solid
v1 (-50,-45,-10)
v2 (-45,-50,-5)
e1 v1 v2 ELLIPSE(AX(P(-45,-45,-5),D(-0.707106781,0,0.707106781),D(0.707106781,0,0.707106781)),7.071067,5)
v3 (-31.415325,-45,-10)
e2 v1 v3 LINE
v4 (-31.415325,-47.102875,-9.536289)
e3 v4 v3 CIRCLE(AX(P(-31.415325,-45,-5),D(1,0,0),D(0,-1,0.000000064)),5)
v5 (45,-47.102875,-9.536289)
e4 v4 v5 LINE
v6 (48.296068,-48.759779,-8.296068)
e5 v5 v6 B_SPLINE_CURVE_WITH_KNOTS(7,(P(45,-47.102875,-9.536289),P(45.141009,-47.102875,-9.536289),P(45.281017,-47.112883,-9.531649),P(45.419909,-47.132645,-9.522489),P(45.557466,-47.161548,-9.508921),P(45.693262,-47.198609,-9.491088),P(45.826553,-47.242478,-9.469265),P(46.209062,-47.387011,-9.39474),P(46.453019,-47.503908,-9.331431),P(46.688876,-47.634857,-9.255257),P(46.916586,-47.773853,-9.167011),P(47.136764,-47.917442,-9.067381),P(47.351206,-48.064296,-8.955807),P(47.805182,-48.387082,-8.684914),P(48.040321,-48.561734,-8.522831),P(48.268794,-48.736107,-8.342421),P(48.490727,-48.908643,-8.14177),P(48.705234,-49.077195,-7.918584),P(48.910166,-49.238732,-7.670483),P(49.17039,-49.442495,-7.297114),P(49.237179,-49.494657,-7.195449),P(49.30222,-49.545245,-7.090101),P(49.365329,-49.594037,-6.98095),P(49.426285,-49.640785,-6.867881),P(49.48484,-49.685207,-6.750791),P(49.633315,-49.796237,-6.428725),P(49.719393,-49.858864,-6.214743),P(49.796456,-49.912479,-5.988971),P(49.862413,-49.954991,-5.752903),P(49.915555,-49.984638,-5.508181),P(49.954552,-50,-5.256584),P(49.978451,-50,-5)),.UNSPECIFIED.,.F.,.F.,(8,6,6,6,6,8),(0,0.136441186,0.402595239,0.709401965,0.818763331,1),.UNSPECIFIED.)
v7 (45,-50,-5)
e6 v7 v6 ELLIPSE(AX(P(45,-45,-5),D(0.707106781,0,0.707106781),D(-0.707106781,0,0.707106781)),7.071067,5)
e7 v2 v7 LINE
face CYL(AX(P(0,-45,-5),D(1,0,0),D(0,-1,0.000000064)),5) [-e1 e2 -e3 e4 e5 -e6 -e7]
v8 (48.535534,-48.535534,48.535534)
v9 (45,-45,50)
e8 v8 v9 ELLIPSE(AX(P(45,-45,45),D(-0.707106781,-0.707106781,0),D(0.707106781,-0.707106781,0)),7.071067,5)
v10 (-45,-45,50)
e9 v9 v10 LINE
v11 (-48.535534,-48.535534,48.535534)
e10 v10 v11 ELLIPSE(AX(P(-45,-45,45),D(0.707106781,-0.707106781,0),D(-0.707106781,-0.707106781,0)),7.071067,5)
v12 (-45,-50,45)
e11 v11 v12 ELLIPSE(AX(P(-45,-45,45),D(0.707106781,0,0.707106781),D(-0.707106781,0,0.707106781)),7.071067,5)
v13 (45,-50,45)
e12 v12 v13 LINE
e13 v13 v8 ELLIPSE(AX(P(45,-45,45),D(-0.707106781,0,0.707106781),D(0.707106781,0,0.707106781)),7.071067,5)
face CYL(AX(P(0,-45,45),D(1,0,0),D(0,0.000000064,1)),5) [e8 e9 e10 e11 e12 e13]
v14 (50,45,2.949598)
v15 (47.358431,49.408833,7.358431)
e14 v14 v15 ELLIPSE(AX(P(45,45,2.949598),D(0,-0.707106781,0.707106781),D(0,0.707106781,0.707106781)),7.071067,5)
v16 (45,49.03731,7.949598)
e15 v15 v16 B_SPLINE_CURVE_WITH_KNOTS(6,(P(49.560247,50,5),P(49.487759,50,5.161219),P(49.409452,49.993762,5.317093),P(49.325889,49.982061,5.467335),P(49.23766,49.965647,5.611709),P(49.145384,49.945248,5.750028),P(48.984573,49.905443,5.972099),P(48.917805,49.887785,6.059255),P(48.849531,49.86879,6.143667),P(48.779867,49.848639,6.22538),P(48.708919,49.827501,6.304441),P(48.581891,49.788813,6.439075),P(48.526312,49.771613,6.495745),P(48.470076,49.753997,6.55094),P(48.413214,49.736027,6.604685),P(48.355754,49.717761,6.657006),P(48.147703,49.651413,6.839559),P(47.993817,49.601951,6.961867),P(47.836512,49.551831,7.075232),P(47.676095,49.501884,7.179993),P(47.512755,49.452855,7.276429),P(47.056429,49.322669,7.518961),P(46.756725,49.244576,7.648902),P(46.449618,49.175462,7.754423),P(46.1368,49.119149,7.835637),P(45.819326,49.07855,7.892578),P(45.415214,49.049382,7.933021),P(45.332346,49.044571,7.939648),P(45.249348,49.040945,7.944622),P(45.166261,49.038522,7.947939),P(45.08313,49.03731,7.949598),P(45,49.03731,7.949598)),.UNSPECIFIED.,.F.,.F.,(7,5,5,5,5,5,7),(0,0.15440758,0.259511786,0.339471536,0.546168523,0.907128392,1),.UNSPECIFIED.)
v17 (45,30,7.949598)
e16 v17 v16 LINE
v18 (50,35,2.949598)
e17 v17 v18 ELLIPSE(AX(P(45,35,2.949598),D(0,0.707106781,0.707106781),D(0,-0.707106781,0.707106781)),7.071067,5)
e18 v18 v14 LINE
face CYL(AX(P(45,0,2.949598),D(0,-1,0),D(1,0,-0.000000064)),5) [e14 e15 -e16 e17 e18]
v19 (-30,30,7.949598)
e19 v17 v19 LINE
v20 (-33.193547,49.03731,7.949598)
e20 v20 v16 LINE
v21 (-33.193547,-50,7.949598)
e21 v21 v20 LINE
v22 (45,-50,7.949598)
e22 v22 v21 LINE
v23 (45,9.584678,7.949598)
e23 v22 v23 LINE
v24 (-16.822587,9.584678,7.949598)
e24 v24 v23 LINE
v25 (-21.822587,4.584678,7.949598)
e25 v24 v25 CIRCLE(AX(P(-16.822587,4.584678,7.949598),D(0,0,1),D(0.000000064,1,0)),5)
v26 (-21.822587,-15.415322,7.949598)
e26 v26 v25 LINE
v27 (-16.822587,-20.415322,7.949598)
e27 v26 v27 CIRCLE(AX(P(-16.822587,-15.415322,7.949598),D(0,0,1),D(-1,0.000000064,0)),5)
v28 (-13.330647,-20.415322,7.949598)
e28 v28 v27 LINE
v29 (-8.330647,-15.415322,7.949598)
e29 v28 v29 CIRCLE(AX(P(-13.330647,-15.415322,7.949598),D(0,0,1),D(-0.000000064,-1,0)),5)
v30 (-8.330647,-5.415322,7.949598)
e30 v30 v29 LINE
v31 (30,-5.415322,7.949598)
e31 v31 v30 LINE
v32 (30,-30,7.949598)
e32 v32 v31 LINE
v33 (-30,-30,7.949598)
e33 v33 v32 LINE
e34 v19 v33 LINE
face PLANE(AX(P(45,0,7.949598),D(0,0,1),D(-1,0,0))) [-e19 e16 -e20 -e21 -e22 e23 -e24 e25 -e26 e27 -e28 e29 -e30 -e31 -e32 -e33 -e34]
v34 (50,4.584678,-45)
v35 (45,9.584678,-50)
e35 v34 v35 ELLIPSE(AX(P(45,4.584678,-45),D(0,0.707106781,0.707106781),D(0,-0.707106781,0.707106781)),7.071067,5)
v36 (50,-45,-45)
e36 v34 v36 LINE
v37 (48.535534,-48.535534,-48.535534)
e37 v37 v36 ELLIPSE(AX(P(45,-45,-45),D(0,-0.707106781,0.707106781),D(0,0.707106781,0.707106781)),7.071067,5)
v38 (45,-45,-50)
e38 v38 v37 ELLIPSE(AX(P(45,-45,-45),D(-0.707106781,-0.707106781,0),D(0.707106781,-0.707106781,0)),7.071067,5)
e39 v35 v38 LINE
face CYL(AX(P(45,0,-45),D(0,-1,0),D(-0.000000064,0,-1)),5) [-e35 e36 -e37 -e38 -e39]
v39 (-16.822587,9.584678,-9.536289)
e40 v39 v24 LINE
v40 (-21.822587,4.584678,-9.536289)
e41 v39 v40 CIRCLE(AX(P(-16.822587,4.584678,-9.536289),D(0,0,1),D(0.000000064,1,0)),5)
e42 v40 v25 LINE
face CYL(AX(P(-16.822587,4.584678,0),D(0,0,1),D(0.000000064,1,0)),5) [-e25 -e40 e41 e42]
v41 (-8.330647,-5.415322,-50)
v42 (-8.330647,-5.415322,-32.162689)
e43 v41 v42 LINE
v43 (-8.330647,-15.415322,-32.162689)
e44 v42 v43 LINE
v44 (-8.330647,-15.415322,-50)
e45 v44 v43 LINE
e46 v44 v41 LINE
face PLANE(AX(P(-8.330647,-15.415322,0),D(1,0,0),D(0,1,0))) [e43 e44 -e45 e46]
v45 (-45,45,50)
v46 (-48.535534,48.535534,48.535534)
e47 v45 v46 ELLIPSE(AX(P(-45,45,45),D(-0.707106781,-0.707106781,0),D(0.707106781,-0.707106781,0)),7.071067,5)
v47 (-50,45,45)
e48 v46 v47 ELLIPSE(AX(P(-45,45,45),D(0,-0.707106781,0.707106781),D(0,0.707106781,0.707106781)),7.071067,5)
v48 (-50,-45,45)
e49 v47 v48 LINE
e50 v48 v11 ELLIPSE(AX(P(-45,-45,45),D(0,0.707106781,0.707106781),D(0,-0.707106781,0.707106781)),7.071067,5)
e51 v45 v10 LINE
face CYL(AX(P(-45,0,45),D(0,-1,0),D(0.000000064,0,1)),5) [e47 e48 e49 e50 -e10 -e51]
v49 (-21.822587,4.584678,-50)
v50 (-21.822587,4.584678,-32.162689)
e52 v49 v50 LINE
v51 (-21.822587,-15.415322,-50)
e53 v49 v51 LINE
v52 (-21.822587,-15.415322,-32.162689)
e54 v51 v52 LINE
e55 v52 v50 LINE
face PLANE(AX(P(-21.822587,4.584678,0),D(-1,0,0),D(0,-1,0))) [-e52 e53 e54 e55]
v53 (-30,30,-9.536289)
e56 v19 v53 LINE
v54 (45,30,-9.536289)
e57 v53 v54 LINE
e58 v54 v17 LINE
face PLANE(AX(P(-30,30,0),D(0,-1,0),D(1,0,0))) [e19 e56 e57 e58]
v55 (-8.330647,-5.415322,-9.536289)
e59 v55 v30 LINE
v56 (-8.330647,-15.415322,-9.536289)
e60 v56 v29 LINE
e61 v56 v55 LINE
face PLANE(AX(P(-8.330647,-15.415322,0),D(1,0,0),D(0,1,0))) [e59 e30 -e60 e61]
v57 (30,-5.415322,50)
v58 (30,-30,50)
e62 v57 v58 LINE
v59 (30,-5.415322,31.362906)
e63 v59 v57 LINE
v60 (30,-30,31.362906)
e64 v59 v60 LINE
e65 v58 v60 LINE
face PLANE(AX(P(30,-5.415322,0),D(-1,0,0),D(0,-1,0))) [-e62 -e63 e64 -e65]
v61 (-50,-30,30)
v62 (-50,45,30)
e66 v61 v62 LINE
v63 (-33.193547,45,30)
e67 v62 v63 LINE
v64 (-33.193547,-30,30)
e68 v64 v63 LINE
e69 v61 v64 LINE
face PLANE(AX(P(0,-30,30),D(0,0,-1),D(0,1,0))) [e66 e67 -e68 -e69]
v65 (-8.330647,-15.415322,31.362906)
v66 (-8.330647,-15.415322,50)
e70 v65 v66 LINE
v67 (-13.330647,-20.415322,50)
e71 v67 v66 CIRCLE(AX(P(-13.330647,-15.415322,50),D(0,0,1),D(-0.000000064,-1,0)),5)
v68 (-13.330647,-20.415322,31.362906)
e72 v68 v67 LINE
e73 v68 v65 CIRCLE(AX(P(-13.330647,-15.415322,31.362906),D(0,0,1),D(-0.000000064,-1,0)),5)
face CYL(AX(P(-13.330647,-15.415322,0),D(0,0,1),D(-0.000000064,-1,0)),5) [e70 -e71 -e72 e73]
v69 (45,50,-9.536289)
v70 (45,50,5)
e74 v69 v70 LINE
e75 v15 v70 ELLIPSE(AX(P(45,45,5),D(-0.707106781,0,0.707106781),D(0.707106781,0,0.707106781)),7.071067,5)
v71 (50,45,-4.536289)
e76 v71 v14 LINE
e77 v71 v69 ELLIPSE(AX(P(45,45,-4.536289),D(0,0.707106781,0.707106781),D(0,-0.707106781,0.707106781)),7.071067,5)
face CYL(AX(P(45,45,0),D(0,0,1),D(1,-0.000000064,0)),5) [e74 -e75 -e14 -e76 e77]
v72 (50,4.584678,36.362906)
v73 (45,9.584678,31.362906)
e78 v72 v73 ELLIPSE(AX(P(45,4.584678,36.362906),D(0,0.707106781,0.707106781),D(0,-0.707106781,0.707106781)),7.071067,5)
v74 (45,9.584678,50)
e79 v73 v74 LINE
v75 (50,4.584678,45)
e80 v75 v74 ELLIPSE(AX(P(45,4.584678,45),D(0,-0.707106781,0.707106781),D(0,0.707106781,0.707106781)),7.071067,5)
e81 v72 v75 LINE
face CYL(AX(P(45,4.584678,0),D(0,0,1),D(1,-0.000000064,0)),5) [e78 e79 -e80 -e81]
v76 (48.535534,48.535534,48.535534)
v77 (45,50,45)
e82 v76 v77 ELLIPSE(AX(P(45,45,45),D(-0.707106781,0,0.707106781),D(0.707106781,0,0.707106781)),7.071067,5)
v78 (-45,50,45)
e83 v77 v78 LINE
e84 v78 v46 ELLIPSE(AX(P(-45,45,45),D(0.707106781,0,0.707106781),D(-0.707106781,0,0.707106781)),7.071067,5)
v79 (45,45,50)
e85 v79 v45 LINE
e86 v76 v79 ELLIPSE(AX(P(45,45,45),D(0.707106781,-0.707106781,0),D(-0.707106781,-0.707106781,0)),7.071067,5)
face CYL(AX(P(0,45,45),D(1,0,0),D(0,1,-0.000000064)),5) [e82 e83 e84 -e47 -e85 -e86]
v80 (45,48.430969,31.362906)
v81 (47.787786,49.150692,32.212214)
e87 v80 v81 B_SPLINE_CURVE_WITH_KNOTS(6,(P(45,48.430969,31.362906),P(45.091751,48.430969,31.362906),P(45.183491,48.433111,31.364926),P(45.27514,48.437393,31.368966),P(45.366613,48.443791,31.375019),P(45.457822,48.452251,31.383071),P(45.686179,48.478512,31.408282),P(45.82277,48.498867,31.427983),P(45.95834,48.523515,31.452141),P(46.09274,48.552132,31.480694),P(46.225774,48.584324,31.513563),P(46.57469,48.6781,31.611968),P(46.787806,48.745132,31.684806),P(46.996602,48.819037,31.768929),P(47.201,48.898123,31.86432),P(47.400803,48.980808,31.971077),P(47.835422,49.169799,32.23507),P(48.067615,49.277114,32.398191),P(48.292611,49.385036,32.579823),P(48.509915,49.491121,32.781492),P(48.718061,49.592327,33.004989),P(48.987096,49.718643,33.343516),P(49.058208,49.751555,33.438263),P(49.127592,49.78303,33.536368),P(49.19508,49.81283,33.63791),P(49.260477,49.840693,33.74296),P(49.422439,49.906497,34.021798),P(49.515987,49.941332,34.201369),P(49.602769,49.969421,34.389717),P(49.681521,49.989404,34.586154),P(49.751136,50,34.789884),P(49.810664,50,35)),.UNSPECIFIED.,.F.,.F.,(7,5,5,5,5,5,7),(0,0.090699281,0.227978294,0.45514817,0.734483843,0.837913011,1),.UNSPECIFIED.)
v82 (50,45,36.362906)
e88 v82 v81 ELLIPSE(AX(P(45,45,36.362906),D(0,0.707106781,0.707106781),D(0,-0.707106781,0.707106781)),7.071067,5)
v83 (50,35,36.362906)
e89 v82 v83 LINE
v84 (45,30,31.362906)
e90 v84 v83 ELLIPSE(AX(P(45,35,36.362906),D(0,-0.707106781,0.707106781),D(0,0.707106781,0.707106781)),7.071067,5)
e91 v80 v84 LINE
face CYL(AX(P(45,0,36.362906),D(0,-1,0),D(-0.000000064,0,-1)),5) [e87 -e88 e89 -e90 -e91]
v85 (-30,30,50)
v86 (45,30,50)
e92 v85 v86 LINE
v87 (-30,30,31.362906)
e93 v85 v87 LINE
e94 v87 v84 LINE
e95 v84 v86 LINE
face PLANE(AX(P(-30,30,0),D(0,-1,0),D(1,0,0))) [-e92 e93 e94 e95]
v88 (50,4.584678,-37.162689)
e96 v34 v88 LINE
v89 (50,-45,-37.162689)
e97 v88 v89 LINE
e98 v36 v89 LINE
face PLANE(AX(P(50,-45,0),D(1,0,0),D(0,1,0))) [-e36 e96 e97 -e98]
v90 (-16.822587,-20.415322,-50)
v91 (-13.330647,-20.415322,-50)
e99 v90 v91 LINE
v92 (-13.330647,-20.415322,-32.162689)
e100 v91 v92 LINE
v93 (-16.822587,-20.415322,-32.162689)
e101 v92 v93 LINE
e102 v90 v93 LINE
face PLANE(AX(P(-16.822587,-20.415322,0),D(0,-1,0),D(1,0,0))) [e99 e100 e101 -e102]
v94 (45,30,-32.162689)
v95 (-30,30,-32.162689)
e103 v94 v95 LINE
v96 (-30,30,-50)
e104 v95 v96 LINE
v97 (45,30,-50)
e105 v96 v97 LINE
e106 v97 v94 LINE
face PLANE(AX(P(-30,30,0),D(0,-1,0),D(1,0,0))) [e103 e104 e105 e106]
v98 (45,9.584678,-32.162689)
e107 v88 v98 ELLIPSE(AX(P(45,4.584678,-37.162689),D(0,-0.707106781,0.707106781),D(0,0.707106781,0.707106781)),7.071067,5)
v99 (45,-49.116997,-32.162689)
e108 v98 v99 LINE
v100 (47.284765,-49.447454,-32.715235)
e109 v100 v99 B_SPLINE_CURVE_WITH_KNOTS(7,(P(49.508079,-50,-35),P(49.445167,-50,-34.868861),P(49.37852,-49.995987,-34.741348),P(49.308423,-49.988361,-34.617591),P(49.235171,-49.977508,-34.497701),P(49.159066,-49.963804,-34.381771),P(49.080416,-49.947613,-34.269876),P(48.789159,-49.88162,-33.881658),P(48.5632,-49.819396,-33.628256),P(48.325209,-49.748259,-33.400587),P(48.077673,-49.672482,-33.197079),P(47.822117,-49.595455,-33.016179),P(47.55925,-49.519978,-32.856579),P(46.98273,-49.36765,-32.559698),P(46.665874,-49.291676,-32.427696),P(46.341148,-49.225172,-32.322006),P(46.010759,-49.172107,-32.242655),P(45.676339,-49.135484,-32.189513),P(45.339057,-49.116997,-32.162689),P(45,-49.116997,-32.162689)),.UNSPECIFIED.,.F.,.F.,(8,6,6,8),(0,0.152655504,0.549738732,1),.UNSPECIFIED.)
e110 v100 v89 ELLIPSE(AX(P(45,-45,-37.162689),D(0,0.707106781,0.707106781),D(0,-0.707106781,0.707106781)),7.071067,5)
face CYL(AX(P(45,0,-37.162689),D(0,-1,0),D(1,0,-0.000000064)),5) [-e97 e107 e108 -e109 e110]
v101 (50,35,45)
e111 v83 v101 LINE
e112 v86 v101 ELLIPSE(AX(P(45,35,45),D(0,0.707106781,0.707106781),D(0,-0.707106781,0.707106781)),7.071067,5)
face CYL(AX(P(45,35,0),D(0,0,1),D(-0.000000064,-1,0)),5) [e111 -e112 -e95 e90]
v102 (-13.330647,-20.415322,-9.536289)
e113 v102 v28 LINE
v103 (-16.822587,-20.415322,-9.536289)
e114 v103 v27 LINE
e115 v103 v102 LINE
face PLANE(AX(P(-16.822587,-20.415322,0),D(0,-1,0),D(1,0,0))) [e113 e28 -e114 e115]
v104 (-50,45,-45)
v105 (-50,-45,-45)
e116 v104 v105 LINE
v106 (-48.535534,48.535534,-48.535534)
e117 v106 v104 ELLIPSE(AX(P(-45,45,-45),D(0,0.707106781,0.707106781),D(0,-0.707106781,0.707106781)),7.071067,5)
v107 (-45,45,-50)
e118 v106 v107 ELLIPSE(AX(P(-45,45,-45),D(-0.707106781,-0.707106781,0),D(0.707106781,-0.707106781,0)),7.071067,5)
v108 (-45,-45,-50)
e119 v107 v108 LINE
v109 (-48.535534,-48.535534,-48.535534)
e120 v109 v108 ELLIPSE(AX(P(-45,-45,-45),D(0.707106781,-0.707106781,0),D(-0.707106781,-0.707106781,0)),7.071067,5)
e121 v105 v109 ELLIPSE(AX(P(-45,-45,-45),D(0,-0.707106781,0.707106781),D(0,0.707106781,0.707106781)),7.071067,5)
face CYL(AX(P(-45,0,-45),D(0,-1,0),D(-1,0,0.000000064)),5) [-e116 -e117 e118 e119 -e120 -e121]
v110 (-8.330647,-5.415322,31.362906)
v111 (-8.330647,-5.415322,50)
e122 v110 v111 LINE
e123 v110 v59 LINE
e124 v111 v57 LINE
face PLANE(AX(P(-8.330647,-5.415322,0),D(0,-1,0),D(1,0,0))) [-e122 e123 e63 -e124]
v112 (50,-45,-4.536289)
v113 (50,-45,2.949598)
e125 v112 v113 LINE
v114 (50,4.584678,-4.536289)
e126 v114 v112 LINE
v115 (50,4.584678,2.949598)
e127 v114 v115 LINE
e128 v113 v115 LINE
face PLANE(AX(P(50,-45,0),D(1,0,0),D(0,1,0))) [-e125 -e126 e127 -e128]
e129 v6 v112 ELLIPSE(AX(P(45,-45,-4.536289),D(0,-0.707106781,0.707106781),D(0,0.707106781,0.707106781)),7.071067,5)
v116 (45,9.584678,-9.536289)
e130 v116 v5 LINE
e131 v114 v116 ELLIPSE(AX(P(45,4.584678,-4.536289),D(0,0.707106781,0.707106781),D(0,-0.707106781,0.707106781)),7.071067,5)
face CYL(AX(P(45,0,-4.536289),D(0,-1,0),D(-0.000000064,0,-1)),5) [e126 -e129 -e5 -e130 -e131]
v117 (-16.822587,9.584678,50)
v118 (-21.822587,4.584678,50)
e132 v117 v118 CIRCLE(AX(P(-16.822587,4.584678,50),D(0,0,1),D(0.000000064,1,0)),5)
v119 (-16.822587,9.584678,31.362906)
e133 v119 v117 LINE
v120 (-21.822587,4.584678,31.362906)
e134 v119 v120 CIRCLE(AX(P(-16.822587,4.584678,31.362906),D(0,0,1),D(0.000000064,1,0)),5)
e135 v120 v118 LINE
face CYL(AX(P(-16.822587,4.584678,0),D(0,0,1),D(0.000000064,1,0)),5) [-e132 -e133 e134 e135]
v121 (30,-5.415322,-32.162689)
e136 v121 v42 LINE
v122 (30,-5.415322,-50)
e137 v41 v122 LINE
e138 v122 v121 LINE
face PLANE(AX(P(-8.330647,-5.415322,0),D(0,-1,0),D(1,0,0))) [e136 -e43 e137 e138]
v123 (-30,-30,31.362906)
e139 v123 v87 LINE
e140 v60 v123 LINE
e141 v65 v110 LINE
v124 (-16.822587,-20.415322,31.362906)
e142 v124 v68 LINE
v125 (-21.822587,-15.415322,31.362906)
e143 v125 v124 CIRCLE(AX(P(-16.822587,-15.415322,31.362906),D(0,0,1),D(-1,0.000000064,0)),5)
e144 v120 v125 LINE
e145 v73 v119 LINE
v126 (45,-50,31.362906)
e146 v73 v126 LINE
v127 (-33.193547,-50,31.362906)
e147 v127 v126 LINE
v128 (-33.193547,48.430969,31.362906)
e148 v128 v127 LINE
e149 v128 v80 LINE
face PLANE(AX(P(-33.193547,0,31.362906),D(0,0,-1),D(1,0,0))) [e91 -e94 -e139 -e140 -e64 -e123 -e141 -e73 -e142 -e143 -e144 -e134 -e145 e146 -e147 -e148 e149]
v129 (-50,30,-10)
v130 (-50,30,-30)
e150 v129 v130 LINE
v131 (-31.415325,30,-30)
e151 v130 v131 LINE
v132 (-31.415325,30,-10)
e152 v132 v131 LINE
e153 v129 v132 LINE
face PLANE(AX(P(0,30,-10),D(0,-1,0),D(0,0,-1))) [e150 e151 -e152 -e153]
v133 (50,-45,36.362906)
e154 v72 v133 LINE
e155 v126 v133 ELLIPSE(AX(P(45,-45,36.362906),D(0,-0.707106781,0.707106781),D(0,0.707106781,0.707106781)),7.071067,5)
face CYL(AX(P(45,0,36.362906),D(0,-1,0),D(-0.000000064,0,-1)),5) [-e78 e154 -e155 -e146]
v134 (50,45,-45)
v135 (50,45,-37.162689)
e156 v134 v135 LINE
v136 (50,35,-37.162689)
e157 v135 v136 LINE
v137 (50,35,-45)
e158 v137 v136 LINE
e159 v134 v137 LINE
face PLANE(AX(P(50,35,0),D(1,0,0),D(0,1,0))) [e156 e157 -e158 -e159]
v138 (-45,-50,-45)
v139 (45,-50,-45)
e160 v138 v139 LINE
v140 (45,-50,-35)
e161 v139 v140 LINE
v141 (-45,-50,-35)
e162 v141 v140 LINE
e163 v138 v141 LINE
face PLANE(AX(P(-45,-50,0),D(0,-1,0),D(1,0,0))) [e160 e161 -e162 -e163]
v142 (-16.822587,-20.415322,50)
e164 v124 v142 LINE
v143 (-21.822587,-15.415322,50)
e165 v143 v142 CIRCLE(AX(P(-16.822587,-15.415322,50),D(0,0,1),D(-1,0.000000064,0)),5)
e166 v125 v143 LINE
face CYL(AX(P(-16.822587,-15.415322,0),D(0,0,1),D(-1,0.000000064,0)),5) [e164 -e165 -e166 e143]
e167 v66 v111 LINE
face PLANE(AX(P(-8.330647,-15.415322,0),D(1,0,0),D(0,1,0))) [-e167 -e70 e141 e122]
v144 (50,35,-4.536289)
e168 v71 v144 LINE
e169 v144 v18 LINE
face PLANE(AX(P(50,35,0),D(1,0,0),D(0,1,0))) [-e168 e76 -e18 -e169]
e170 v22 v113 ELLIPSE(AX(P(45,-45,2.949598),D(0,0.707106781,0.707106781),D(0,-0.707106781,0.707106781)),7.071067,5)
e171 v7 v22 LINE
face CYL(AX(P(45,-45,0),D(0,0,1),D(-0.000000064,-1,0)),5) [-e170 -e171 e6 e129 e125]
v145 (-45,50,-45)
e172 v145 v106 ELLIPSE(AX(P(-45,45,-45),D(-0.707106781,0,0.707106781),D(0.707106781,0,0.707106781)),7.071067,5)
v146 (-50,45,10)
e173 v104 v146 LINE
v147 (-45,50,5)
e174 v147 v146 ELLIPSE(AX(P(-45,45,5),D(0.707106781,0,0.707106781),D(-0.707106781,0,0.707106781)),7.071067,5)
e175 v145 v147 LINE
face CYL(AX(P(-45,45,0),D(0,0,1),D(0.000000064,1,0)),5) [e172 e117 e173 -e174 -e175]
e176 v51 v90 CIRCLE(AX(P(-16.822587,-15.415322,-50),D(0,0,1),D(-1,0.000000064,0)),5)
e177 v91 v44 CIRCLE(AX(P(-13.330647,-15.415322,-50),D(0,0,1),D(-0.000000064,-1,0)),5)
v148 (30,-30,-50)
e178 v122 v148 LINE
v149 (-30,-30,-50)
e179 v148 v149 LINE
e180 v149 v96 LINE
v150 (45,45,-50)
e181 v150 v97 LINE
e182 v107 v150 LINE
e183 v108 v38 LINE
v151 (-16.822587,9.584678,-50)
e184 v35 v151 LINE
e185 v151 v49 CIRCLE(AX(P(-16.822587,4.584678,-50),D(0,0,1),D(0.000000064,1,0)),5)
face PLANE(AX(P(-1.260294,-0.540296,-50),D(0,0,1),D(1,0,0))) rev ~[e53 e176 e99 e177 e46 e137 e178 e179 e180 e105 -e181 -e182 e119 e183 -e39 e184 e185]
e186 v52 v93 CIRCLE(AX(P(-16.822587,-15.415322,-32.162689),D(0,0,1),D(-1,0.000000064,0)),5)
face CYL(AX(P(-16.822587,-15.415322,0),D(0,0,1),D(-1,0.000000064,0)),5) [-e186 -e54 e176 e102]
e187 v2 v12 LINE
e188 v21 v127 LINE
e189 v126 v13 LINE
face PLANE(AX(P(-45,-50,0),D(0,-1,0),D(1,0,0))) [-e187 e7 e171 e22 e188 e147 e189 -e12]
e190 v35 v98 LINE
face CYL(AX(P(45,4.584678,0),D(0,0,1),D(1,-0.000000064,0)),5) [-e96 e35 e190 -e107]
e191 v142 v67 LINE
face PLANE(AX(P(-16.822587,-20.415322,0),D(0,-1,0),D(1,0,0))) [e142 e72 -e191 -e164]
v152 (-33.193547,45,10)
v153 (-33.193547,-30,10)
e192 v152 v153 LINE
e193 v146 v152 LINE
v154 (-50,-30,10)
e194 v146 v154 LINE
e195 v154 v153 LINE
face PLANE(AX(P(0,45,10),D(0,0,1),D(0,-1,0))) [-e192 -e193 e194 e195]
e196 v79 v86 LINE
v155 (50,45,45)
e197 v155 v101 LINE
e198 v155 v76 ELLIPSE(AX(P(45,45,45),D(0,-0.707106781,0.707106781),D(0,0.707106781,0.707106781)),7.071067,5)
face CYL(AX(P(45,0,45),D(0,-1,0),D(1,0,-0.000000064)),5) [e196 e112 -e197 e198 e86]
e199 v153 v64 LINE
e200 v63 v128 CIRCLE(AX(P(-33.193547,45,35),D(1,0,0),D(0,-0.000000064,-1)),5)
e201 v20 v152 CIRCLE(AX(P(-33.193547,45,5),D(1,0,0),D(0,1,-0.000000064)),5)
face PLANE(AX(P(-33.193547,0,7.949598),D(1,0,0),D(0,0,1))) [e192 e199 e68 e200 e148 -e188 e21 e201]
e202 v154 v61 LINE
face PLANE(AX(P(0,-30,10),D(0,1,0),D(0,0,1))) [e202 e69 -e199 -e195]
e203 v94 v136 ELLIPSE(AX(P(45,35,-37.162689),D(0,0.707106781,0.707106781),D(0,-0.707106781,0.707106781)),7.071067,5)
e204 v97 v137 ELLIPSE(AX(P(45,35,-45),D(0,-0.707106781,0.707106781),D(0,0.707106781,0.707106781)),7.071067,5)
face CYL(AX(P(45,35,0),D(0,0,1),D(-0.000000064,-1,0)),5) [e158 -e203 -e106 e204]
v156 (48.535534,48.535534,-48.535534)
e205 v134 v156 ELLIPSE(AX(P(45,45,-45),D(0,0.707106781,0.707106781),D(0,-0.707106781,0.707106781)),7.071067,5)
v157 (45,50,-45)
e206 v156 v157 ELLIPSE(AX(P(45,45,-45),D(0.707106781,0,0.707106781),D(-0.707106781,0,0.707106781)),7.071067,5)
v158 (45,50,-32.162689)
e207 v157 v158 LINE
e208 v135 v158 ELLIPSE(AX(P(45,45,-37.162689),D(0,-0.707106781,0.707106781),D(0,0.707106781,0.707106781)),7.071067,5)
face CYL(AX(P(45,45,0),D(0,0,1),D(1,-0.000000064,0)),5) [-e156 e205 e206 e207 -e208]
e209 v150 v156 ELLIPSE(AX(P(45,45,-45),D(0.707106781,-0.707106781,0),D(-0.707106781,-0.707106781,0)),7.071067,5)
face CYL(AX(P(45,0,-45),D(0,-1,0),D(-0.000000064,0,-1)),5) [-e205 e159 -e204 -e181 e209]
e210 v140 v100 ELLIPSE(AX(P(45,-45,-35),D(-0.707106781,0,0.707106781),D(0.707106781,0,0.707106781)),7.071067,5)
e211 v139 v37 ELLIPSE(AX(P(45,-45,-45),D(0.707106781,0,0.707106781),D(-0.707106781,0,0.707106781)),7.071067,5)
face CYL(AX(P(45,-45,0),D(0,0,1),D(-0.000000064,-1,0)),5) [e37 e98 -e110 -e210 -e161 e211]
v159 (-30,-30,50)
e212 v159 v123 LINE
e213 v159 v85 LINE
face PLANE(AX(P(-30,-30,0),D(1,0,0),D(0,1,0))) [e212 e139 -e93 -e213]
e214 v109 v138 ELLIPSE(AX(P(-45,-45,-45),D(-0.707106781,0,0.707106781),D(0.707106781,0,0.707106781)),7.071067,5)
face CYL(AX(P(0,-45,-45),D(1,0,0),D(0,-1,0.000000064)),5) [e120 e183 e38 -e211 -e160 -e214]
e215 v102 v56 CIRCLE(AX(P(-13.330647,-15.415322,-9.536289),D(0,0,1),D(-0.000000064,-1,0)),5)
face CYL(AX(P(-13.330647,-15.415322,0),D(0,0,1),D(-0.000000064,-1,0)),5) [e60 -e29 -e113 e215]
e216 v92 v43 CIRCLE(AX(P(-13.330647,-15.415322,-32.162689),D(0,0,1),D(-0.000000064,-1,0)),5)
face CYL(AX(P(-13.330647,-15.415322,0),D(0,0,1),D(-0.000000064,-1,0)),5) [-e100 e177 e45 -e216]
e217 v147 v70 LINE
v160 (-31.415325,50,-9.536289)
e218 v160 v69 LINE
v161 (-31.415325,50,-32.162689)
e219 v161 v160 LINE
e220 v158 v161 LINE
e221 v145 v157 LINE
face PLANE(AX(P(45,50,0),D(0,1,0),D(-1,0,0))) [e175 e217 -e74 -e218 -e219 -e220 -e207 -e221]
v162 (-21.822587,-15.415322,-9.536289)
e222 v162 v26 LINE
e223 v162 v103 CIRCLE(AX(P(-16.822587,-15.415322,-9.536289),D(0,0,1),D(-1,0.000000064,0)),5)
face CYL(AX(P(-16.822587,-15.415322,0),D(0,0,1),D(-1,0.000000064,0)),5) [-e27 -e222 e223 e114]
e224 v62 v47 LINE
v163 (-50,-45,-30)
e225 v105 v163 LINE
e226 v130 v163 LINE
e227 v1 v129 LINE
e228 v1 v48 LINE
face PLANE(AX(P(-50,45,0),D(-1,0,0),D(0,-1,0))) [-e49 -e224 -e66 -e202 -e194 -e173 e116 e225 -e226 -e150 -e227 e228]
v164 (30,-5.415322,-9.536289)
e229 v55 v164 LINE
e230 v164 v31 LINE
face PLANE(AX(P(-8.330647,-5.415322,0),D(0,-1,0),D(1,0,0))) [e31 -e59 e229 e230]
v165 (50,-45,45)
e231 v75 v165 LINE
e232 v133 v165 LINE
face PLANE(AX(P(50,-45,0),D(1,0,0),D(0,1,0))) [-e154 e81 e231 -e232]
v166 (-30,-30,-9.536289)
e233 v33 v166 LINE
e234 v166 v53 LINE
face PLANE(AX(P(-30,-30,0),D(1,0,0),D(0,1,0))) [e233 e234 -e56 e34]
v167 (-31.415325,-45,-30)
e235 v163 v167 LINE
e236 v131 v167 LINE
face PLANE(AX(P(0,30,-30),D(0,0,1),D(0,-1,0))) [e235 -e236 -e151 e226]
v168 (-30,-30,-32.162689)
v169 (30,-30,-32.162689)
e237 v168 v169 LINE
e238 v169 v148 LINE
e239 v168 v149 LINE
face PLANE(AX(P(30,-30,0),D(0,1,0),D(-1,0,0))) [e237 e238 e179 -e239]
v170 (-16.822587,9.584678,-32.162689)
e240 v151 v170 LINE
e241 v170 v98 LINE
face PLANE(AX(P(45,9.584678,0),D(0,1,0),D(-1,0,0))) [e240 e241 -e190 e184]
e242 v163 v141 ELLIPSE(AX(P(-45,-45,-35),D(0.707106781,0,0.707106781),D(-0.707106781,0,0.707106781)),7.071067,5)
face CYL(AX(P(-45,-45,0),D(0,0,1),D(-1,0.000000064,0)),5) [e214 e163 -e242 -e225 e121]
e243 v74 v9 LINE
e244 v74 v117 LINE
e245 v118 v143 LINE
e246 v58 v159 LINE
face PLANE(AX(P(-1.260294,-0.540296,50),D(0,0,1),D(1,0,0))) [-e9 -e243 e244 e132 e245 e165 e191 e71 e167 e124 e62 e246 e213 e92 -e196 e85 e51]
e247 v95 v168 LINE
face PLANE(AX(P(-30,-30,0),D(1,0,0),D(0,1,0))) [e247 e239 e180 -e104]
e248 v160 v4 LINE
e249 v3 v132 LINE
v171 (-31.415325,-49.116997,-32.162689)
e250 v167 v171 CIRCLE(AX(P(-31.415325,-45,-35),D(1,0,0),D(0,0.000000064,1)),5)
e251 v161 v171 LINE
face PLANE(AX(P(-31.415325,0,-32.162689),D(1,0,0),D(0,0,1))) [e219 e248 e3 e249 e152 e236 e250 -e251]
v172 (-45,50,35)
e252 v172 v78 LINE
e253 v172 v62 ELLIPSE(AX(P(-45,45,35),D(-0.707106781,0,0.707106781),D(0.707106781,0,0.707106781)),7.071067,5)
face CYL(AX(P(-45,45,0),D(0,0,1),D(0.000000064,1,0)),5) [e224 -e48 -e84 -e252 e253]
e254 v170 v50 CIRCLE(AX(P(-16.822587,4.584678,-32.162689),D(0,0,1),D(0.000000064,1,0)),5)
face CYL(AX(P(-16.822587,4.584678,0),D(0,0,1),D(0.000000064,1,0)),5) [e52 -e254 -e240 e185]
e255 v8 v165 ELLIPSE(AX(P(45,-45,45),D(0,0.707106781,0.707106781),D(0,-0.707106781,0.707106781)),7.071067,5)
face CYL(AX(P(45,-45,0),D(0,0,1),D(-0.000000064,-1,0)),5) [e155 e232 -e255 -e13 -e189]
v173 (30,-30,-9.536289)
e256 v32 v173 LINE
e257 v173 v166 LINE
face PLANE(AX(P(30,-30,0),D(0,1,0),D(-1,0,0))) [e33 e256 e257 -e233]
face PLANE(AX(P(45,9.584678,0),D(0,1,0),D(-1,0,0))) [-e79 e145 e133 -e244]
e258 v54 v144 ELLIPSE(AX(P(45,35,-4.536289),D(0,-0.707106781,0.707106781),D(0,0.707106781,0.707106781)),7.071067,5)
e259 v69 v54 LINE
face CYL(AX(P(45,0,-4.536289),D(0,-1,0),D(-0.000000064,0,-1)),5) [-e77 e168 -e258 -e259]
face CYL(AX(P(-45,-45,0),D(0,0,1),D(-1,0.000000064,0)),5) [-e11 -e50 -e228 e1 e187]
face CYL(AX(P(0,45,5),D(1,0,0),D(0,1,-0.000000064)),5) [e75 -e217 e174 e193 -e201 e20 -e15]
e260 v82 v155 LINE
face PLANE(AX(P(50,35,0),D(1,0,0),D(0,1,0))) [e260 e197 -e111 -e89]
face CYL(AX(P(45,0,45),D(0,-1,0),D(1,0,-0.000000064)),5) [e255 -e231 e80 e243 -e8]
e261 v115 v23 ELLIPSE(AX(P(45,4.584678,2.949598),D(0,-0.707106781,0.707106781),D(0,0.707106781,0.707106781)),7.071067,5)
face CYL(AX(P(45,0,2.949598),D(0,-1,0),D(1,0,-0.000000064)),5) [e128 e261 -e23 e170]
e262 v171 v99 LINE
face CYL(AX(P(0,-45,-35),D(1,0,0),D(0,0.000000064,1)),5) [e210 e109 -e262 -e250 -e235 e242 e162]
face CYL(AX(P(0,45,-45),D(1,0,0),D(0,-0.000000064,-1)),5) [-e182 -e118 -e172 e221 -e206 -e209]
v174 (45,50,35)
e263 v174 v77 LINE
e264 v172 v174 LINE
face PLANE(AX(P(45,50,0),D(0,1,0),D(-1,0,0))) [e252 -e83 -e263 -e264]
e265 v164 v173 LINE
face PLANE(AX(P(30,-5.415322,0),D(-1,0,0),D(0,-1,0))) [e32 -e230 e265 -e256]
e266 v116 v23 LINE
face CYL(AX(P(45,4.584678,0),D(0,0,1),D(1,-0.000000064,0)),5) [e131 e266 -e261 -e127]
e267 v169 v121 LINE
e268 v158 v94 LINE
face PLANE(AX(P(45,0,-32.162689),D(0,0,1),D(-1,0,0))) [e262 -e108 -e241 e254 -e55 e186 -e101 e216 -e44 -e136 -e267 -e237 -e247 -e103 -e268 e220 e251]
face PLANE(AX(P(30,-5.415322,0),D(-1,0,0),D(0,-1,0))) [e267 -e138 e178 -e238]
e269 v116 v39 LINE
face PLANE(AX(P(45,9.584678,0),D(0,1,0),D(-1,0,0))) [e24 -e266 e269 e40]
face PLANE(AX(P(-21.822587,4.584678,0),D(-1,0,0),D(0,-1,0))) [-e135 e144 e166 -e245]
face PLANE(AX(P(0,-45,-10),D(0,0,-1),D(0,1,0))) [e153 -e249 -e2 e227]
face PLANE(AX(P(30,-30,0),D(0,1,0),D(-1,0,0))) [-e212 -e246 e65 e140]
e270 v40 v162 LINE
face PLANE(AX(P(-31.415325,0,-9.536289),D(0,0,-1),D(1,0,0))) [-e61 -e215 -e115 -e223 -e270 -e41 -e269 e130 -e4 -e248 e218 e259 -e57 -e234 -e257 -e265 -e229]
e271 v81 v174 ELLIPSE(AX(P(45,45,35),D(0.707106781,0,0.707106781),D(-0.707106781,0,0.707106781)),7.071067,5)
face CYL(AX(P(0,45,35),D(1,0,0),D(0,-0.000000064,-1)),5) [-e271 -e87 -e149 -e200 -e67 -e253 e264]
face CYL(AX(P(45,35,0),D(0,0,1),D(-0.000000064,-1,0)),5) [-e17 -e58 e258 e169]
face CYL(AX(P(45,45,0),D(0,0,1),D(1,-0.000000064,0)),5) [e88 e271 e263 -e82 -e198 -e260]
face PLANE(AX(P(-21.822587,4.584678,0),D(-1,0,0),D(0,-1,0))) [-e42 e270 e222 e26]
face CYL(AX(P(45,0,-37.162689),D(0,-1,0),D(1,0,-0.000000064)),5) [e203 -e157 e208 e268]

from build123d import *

# Parameters (mm, degrees)
F3_DEPTH = 50
F4_DEPTH = 50
F5_DEPTH = 50


with BuildPart() as f3:
    # F0 (on Top) → F3 (new body, symmetric)
    with BuildSketch(Plane.XY):
        with BuildLine():
            Line((-30, 30), (45, 30))
            ThreePointArc((45, 30), (48.535534, 31.464466), (50, 35))
            Line((50, 35), (50, 45))
            ThreePointArc((50, 45), (48.535534, 48.535534), (45, 50))
            Line((45, 50), (-45, 50))
            ThreePointArc((-45, 50), (-48.535534, 48.535534), (-50, 45))
            Line((-50, 45), (-50, -45))
            ThreePointArc((-50, -45), (-48.535534, -48.535534), (-45, -50))
            Line((-45, -50), (45, -50))
            ThreePointArc((45, -50), (48.535534, -48.535534), (50, -45))
            Line((50, -45), (50, 4.584678))
            ThreePointArc((50, 4.584678), (48.535534, 8.120212), (45, 9.584678))
            Line((45, 9.584678), (-16.822587, 9.584678))
            ThreePointArc((-16.822587, 9.584678), (-20.358121, 8.120212), (-21.822587, 4.584678))
            Line((-21.822587, 4.584678), (-21.822587, -15.415322))
            ThreePointArc((-21.822587, -15.415322), (-20.358121, -18.950856), (-16.822587, -20.415322))
            Line((-16.822587, -20.415322), (-13.330647, -20.415322))
            ThreePointArc((-13.330647, -20.415322), (-9.795113, -18.950856), (-8.330647, -15.415322))
            Line((-8.330647, -15.415322), (-8.330647, -5.415322))
            Line((-8.330647, -5.415322), (30, -5.415322))
            Line((30, -5.415322), (30, -30))
            Line((30, -30), (-30, -30))
            Line((-30, -30), (-30, 30))
        make_face()
    extrude(amount=F3_DEPTH, both=True)

    # F1 (on Front) → F4 (intersect, symmetric)
    with BuildSketch(Plane.XZ):
        with BuildLine():
            Line((-33.193547, 7.949598), (-33.193547, 31.362906))
            Line((-33.193547, 31.362906), (45, 31.362906))
            ThreePointArc((45, 31.362906), (48.535534, 32.827372), (50, 36.362906))
            Line((50, 36.362906), (50, 45))
            ThreePointArc((50, 45), (48.535534, 48.535534), (45, 50))
            Line((45, 50), (-45, 50))
            ThreePointArc((-45, 50), (-48.535534, 48.535534), (-50, 45))
            Line((-50, 45), (-50, -45))
            ThreePointArc((-50, -45), (-48.535534, -48.535534), (-45, -50))
            Line((-45, -50), (45, -50))
            ThreePointArc((45, -50), (48.535534, -48.535534), (50, -45))
            Line((50, -45), (50, -37.162689))
            ThreePointArc((50, -37.162689), (48.535534, -33.627155), (45, -32.162689))
            Line((45, -32.162689), (-31.415325, -32.162689))
            Line((-31.415325, -32.162689), (-31.415325, -9.536289))
            Line((-31.415325, -9.536289), (45, -9.536289))
            ThreePointArc((45, -9.536289), (48.535534, -8.071823), (50, -4.536289))
            Line((50, -4.536289), (50, 2.949598))
            ThreePointArc((50, 2.949598), (48.535534, 6.485132), (45, 7.949598))
            Line((45, 7.949598), (-33.193547, 7.949598))
        make_face()
    extrude(amount=F4_DEPTH, both=True, mode=Mode.INTERSECT)

    # F2 (on Right) → F5 (intersect, symmetric)
    with BuildSketch(Plane.YZ):
        with BuildLine():
            ThreePointArc((-45, 50), (-48.535534, 48.535534), (-50, 45))
            Line((-50, 45), (-50, -5))
            ThreePointArc((-50, -5), (-48.535534, -8.535534), (-45, -10))
            Line((-45, -10), (30, -10))
            Line((30, -10), (30, -30))
            Line((30, -30), (-45, -30))
            ThreePointArc((-45, -30), (-48.535534, -31.464466), (-50, -35))
            Line((-50, -35), (-50, -45))
            ThreePointArc((-50, -45), (-48.535534, -48.535534), (-45, -50))
            Line((-45, -50), (45, -50))
            ThreePointArc((45, -50), (48.535534, -48.535534), (50, -45))
            Line((50, -45), (50, 5))
            ThreePointArc((50, 5), (48.535534, 8.535534), (45, 10))
            Line((45, 10), (-30, 10))
            Line((-30, 10), (-30, 30))
            Line((-30, 30), (45, 30))
            ThreePointArc((45, 30), (48.535534, 31.464466), (50, 35))
            Line((50, 35), (50, 45))
            ThreePointArc((50, 45), (48.535534, 48.535534), (45, 50))
            Line((45, 50), (-45, 50))
        make_face()
    extrude(amount=F5_DEPTH, both=True, mode=Mode.INTERSECT)


solid = f3.part
